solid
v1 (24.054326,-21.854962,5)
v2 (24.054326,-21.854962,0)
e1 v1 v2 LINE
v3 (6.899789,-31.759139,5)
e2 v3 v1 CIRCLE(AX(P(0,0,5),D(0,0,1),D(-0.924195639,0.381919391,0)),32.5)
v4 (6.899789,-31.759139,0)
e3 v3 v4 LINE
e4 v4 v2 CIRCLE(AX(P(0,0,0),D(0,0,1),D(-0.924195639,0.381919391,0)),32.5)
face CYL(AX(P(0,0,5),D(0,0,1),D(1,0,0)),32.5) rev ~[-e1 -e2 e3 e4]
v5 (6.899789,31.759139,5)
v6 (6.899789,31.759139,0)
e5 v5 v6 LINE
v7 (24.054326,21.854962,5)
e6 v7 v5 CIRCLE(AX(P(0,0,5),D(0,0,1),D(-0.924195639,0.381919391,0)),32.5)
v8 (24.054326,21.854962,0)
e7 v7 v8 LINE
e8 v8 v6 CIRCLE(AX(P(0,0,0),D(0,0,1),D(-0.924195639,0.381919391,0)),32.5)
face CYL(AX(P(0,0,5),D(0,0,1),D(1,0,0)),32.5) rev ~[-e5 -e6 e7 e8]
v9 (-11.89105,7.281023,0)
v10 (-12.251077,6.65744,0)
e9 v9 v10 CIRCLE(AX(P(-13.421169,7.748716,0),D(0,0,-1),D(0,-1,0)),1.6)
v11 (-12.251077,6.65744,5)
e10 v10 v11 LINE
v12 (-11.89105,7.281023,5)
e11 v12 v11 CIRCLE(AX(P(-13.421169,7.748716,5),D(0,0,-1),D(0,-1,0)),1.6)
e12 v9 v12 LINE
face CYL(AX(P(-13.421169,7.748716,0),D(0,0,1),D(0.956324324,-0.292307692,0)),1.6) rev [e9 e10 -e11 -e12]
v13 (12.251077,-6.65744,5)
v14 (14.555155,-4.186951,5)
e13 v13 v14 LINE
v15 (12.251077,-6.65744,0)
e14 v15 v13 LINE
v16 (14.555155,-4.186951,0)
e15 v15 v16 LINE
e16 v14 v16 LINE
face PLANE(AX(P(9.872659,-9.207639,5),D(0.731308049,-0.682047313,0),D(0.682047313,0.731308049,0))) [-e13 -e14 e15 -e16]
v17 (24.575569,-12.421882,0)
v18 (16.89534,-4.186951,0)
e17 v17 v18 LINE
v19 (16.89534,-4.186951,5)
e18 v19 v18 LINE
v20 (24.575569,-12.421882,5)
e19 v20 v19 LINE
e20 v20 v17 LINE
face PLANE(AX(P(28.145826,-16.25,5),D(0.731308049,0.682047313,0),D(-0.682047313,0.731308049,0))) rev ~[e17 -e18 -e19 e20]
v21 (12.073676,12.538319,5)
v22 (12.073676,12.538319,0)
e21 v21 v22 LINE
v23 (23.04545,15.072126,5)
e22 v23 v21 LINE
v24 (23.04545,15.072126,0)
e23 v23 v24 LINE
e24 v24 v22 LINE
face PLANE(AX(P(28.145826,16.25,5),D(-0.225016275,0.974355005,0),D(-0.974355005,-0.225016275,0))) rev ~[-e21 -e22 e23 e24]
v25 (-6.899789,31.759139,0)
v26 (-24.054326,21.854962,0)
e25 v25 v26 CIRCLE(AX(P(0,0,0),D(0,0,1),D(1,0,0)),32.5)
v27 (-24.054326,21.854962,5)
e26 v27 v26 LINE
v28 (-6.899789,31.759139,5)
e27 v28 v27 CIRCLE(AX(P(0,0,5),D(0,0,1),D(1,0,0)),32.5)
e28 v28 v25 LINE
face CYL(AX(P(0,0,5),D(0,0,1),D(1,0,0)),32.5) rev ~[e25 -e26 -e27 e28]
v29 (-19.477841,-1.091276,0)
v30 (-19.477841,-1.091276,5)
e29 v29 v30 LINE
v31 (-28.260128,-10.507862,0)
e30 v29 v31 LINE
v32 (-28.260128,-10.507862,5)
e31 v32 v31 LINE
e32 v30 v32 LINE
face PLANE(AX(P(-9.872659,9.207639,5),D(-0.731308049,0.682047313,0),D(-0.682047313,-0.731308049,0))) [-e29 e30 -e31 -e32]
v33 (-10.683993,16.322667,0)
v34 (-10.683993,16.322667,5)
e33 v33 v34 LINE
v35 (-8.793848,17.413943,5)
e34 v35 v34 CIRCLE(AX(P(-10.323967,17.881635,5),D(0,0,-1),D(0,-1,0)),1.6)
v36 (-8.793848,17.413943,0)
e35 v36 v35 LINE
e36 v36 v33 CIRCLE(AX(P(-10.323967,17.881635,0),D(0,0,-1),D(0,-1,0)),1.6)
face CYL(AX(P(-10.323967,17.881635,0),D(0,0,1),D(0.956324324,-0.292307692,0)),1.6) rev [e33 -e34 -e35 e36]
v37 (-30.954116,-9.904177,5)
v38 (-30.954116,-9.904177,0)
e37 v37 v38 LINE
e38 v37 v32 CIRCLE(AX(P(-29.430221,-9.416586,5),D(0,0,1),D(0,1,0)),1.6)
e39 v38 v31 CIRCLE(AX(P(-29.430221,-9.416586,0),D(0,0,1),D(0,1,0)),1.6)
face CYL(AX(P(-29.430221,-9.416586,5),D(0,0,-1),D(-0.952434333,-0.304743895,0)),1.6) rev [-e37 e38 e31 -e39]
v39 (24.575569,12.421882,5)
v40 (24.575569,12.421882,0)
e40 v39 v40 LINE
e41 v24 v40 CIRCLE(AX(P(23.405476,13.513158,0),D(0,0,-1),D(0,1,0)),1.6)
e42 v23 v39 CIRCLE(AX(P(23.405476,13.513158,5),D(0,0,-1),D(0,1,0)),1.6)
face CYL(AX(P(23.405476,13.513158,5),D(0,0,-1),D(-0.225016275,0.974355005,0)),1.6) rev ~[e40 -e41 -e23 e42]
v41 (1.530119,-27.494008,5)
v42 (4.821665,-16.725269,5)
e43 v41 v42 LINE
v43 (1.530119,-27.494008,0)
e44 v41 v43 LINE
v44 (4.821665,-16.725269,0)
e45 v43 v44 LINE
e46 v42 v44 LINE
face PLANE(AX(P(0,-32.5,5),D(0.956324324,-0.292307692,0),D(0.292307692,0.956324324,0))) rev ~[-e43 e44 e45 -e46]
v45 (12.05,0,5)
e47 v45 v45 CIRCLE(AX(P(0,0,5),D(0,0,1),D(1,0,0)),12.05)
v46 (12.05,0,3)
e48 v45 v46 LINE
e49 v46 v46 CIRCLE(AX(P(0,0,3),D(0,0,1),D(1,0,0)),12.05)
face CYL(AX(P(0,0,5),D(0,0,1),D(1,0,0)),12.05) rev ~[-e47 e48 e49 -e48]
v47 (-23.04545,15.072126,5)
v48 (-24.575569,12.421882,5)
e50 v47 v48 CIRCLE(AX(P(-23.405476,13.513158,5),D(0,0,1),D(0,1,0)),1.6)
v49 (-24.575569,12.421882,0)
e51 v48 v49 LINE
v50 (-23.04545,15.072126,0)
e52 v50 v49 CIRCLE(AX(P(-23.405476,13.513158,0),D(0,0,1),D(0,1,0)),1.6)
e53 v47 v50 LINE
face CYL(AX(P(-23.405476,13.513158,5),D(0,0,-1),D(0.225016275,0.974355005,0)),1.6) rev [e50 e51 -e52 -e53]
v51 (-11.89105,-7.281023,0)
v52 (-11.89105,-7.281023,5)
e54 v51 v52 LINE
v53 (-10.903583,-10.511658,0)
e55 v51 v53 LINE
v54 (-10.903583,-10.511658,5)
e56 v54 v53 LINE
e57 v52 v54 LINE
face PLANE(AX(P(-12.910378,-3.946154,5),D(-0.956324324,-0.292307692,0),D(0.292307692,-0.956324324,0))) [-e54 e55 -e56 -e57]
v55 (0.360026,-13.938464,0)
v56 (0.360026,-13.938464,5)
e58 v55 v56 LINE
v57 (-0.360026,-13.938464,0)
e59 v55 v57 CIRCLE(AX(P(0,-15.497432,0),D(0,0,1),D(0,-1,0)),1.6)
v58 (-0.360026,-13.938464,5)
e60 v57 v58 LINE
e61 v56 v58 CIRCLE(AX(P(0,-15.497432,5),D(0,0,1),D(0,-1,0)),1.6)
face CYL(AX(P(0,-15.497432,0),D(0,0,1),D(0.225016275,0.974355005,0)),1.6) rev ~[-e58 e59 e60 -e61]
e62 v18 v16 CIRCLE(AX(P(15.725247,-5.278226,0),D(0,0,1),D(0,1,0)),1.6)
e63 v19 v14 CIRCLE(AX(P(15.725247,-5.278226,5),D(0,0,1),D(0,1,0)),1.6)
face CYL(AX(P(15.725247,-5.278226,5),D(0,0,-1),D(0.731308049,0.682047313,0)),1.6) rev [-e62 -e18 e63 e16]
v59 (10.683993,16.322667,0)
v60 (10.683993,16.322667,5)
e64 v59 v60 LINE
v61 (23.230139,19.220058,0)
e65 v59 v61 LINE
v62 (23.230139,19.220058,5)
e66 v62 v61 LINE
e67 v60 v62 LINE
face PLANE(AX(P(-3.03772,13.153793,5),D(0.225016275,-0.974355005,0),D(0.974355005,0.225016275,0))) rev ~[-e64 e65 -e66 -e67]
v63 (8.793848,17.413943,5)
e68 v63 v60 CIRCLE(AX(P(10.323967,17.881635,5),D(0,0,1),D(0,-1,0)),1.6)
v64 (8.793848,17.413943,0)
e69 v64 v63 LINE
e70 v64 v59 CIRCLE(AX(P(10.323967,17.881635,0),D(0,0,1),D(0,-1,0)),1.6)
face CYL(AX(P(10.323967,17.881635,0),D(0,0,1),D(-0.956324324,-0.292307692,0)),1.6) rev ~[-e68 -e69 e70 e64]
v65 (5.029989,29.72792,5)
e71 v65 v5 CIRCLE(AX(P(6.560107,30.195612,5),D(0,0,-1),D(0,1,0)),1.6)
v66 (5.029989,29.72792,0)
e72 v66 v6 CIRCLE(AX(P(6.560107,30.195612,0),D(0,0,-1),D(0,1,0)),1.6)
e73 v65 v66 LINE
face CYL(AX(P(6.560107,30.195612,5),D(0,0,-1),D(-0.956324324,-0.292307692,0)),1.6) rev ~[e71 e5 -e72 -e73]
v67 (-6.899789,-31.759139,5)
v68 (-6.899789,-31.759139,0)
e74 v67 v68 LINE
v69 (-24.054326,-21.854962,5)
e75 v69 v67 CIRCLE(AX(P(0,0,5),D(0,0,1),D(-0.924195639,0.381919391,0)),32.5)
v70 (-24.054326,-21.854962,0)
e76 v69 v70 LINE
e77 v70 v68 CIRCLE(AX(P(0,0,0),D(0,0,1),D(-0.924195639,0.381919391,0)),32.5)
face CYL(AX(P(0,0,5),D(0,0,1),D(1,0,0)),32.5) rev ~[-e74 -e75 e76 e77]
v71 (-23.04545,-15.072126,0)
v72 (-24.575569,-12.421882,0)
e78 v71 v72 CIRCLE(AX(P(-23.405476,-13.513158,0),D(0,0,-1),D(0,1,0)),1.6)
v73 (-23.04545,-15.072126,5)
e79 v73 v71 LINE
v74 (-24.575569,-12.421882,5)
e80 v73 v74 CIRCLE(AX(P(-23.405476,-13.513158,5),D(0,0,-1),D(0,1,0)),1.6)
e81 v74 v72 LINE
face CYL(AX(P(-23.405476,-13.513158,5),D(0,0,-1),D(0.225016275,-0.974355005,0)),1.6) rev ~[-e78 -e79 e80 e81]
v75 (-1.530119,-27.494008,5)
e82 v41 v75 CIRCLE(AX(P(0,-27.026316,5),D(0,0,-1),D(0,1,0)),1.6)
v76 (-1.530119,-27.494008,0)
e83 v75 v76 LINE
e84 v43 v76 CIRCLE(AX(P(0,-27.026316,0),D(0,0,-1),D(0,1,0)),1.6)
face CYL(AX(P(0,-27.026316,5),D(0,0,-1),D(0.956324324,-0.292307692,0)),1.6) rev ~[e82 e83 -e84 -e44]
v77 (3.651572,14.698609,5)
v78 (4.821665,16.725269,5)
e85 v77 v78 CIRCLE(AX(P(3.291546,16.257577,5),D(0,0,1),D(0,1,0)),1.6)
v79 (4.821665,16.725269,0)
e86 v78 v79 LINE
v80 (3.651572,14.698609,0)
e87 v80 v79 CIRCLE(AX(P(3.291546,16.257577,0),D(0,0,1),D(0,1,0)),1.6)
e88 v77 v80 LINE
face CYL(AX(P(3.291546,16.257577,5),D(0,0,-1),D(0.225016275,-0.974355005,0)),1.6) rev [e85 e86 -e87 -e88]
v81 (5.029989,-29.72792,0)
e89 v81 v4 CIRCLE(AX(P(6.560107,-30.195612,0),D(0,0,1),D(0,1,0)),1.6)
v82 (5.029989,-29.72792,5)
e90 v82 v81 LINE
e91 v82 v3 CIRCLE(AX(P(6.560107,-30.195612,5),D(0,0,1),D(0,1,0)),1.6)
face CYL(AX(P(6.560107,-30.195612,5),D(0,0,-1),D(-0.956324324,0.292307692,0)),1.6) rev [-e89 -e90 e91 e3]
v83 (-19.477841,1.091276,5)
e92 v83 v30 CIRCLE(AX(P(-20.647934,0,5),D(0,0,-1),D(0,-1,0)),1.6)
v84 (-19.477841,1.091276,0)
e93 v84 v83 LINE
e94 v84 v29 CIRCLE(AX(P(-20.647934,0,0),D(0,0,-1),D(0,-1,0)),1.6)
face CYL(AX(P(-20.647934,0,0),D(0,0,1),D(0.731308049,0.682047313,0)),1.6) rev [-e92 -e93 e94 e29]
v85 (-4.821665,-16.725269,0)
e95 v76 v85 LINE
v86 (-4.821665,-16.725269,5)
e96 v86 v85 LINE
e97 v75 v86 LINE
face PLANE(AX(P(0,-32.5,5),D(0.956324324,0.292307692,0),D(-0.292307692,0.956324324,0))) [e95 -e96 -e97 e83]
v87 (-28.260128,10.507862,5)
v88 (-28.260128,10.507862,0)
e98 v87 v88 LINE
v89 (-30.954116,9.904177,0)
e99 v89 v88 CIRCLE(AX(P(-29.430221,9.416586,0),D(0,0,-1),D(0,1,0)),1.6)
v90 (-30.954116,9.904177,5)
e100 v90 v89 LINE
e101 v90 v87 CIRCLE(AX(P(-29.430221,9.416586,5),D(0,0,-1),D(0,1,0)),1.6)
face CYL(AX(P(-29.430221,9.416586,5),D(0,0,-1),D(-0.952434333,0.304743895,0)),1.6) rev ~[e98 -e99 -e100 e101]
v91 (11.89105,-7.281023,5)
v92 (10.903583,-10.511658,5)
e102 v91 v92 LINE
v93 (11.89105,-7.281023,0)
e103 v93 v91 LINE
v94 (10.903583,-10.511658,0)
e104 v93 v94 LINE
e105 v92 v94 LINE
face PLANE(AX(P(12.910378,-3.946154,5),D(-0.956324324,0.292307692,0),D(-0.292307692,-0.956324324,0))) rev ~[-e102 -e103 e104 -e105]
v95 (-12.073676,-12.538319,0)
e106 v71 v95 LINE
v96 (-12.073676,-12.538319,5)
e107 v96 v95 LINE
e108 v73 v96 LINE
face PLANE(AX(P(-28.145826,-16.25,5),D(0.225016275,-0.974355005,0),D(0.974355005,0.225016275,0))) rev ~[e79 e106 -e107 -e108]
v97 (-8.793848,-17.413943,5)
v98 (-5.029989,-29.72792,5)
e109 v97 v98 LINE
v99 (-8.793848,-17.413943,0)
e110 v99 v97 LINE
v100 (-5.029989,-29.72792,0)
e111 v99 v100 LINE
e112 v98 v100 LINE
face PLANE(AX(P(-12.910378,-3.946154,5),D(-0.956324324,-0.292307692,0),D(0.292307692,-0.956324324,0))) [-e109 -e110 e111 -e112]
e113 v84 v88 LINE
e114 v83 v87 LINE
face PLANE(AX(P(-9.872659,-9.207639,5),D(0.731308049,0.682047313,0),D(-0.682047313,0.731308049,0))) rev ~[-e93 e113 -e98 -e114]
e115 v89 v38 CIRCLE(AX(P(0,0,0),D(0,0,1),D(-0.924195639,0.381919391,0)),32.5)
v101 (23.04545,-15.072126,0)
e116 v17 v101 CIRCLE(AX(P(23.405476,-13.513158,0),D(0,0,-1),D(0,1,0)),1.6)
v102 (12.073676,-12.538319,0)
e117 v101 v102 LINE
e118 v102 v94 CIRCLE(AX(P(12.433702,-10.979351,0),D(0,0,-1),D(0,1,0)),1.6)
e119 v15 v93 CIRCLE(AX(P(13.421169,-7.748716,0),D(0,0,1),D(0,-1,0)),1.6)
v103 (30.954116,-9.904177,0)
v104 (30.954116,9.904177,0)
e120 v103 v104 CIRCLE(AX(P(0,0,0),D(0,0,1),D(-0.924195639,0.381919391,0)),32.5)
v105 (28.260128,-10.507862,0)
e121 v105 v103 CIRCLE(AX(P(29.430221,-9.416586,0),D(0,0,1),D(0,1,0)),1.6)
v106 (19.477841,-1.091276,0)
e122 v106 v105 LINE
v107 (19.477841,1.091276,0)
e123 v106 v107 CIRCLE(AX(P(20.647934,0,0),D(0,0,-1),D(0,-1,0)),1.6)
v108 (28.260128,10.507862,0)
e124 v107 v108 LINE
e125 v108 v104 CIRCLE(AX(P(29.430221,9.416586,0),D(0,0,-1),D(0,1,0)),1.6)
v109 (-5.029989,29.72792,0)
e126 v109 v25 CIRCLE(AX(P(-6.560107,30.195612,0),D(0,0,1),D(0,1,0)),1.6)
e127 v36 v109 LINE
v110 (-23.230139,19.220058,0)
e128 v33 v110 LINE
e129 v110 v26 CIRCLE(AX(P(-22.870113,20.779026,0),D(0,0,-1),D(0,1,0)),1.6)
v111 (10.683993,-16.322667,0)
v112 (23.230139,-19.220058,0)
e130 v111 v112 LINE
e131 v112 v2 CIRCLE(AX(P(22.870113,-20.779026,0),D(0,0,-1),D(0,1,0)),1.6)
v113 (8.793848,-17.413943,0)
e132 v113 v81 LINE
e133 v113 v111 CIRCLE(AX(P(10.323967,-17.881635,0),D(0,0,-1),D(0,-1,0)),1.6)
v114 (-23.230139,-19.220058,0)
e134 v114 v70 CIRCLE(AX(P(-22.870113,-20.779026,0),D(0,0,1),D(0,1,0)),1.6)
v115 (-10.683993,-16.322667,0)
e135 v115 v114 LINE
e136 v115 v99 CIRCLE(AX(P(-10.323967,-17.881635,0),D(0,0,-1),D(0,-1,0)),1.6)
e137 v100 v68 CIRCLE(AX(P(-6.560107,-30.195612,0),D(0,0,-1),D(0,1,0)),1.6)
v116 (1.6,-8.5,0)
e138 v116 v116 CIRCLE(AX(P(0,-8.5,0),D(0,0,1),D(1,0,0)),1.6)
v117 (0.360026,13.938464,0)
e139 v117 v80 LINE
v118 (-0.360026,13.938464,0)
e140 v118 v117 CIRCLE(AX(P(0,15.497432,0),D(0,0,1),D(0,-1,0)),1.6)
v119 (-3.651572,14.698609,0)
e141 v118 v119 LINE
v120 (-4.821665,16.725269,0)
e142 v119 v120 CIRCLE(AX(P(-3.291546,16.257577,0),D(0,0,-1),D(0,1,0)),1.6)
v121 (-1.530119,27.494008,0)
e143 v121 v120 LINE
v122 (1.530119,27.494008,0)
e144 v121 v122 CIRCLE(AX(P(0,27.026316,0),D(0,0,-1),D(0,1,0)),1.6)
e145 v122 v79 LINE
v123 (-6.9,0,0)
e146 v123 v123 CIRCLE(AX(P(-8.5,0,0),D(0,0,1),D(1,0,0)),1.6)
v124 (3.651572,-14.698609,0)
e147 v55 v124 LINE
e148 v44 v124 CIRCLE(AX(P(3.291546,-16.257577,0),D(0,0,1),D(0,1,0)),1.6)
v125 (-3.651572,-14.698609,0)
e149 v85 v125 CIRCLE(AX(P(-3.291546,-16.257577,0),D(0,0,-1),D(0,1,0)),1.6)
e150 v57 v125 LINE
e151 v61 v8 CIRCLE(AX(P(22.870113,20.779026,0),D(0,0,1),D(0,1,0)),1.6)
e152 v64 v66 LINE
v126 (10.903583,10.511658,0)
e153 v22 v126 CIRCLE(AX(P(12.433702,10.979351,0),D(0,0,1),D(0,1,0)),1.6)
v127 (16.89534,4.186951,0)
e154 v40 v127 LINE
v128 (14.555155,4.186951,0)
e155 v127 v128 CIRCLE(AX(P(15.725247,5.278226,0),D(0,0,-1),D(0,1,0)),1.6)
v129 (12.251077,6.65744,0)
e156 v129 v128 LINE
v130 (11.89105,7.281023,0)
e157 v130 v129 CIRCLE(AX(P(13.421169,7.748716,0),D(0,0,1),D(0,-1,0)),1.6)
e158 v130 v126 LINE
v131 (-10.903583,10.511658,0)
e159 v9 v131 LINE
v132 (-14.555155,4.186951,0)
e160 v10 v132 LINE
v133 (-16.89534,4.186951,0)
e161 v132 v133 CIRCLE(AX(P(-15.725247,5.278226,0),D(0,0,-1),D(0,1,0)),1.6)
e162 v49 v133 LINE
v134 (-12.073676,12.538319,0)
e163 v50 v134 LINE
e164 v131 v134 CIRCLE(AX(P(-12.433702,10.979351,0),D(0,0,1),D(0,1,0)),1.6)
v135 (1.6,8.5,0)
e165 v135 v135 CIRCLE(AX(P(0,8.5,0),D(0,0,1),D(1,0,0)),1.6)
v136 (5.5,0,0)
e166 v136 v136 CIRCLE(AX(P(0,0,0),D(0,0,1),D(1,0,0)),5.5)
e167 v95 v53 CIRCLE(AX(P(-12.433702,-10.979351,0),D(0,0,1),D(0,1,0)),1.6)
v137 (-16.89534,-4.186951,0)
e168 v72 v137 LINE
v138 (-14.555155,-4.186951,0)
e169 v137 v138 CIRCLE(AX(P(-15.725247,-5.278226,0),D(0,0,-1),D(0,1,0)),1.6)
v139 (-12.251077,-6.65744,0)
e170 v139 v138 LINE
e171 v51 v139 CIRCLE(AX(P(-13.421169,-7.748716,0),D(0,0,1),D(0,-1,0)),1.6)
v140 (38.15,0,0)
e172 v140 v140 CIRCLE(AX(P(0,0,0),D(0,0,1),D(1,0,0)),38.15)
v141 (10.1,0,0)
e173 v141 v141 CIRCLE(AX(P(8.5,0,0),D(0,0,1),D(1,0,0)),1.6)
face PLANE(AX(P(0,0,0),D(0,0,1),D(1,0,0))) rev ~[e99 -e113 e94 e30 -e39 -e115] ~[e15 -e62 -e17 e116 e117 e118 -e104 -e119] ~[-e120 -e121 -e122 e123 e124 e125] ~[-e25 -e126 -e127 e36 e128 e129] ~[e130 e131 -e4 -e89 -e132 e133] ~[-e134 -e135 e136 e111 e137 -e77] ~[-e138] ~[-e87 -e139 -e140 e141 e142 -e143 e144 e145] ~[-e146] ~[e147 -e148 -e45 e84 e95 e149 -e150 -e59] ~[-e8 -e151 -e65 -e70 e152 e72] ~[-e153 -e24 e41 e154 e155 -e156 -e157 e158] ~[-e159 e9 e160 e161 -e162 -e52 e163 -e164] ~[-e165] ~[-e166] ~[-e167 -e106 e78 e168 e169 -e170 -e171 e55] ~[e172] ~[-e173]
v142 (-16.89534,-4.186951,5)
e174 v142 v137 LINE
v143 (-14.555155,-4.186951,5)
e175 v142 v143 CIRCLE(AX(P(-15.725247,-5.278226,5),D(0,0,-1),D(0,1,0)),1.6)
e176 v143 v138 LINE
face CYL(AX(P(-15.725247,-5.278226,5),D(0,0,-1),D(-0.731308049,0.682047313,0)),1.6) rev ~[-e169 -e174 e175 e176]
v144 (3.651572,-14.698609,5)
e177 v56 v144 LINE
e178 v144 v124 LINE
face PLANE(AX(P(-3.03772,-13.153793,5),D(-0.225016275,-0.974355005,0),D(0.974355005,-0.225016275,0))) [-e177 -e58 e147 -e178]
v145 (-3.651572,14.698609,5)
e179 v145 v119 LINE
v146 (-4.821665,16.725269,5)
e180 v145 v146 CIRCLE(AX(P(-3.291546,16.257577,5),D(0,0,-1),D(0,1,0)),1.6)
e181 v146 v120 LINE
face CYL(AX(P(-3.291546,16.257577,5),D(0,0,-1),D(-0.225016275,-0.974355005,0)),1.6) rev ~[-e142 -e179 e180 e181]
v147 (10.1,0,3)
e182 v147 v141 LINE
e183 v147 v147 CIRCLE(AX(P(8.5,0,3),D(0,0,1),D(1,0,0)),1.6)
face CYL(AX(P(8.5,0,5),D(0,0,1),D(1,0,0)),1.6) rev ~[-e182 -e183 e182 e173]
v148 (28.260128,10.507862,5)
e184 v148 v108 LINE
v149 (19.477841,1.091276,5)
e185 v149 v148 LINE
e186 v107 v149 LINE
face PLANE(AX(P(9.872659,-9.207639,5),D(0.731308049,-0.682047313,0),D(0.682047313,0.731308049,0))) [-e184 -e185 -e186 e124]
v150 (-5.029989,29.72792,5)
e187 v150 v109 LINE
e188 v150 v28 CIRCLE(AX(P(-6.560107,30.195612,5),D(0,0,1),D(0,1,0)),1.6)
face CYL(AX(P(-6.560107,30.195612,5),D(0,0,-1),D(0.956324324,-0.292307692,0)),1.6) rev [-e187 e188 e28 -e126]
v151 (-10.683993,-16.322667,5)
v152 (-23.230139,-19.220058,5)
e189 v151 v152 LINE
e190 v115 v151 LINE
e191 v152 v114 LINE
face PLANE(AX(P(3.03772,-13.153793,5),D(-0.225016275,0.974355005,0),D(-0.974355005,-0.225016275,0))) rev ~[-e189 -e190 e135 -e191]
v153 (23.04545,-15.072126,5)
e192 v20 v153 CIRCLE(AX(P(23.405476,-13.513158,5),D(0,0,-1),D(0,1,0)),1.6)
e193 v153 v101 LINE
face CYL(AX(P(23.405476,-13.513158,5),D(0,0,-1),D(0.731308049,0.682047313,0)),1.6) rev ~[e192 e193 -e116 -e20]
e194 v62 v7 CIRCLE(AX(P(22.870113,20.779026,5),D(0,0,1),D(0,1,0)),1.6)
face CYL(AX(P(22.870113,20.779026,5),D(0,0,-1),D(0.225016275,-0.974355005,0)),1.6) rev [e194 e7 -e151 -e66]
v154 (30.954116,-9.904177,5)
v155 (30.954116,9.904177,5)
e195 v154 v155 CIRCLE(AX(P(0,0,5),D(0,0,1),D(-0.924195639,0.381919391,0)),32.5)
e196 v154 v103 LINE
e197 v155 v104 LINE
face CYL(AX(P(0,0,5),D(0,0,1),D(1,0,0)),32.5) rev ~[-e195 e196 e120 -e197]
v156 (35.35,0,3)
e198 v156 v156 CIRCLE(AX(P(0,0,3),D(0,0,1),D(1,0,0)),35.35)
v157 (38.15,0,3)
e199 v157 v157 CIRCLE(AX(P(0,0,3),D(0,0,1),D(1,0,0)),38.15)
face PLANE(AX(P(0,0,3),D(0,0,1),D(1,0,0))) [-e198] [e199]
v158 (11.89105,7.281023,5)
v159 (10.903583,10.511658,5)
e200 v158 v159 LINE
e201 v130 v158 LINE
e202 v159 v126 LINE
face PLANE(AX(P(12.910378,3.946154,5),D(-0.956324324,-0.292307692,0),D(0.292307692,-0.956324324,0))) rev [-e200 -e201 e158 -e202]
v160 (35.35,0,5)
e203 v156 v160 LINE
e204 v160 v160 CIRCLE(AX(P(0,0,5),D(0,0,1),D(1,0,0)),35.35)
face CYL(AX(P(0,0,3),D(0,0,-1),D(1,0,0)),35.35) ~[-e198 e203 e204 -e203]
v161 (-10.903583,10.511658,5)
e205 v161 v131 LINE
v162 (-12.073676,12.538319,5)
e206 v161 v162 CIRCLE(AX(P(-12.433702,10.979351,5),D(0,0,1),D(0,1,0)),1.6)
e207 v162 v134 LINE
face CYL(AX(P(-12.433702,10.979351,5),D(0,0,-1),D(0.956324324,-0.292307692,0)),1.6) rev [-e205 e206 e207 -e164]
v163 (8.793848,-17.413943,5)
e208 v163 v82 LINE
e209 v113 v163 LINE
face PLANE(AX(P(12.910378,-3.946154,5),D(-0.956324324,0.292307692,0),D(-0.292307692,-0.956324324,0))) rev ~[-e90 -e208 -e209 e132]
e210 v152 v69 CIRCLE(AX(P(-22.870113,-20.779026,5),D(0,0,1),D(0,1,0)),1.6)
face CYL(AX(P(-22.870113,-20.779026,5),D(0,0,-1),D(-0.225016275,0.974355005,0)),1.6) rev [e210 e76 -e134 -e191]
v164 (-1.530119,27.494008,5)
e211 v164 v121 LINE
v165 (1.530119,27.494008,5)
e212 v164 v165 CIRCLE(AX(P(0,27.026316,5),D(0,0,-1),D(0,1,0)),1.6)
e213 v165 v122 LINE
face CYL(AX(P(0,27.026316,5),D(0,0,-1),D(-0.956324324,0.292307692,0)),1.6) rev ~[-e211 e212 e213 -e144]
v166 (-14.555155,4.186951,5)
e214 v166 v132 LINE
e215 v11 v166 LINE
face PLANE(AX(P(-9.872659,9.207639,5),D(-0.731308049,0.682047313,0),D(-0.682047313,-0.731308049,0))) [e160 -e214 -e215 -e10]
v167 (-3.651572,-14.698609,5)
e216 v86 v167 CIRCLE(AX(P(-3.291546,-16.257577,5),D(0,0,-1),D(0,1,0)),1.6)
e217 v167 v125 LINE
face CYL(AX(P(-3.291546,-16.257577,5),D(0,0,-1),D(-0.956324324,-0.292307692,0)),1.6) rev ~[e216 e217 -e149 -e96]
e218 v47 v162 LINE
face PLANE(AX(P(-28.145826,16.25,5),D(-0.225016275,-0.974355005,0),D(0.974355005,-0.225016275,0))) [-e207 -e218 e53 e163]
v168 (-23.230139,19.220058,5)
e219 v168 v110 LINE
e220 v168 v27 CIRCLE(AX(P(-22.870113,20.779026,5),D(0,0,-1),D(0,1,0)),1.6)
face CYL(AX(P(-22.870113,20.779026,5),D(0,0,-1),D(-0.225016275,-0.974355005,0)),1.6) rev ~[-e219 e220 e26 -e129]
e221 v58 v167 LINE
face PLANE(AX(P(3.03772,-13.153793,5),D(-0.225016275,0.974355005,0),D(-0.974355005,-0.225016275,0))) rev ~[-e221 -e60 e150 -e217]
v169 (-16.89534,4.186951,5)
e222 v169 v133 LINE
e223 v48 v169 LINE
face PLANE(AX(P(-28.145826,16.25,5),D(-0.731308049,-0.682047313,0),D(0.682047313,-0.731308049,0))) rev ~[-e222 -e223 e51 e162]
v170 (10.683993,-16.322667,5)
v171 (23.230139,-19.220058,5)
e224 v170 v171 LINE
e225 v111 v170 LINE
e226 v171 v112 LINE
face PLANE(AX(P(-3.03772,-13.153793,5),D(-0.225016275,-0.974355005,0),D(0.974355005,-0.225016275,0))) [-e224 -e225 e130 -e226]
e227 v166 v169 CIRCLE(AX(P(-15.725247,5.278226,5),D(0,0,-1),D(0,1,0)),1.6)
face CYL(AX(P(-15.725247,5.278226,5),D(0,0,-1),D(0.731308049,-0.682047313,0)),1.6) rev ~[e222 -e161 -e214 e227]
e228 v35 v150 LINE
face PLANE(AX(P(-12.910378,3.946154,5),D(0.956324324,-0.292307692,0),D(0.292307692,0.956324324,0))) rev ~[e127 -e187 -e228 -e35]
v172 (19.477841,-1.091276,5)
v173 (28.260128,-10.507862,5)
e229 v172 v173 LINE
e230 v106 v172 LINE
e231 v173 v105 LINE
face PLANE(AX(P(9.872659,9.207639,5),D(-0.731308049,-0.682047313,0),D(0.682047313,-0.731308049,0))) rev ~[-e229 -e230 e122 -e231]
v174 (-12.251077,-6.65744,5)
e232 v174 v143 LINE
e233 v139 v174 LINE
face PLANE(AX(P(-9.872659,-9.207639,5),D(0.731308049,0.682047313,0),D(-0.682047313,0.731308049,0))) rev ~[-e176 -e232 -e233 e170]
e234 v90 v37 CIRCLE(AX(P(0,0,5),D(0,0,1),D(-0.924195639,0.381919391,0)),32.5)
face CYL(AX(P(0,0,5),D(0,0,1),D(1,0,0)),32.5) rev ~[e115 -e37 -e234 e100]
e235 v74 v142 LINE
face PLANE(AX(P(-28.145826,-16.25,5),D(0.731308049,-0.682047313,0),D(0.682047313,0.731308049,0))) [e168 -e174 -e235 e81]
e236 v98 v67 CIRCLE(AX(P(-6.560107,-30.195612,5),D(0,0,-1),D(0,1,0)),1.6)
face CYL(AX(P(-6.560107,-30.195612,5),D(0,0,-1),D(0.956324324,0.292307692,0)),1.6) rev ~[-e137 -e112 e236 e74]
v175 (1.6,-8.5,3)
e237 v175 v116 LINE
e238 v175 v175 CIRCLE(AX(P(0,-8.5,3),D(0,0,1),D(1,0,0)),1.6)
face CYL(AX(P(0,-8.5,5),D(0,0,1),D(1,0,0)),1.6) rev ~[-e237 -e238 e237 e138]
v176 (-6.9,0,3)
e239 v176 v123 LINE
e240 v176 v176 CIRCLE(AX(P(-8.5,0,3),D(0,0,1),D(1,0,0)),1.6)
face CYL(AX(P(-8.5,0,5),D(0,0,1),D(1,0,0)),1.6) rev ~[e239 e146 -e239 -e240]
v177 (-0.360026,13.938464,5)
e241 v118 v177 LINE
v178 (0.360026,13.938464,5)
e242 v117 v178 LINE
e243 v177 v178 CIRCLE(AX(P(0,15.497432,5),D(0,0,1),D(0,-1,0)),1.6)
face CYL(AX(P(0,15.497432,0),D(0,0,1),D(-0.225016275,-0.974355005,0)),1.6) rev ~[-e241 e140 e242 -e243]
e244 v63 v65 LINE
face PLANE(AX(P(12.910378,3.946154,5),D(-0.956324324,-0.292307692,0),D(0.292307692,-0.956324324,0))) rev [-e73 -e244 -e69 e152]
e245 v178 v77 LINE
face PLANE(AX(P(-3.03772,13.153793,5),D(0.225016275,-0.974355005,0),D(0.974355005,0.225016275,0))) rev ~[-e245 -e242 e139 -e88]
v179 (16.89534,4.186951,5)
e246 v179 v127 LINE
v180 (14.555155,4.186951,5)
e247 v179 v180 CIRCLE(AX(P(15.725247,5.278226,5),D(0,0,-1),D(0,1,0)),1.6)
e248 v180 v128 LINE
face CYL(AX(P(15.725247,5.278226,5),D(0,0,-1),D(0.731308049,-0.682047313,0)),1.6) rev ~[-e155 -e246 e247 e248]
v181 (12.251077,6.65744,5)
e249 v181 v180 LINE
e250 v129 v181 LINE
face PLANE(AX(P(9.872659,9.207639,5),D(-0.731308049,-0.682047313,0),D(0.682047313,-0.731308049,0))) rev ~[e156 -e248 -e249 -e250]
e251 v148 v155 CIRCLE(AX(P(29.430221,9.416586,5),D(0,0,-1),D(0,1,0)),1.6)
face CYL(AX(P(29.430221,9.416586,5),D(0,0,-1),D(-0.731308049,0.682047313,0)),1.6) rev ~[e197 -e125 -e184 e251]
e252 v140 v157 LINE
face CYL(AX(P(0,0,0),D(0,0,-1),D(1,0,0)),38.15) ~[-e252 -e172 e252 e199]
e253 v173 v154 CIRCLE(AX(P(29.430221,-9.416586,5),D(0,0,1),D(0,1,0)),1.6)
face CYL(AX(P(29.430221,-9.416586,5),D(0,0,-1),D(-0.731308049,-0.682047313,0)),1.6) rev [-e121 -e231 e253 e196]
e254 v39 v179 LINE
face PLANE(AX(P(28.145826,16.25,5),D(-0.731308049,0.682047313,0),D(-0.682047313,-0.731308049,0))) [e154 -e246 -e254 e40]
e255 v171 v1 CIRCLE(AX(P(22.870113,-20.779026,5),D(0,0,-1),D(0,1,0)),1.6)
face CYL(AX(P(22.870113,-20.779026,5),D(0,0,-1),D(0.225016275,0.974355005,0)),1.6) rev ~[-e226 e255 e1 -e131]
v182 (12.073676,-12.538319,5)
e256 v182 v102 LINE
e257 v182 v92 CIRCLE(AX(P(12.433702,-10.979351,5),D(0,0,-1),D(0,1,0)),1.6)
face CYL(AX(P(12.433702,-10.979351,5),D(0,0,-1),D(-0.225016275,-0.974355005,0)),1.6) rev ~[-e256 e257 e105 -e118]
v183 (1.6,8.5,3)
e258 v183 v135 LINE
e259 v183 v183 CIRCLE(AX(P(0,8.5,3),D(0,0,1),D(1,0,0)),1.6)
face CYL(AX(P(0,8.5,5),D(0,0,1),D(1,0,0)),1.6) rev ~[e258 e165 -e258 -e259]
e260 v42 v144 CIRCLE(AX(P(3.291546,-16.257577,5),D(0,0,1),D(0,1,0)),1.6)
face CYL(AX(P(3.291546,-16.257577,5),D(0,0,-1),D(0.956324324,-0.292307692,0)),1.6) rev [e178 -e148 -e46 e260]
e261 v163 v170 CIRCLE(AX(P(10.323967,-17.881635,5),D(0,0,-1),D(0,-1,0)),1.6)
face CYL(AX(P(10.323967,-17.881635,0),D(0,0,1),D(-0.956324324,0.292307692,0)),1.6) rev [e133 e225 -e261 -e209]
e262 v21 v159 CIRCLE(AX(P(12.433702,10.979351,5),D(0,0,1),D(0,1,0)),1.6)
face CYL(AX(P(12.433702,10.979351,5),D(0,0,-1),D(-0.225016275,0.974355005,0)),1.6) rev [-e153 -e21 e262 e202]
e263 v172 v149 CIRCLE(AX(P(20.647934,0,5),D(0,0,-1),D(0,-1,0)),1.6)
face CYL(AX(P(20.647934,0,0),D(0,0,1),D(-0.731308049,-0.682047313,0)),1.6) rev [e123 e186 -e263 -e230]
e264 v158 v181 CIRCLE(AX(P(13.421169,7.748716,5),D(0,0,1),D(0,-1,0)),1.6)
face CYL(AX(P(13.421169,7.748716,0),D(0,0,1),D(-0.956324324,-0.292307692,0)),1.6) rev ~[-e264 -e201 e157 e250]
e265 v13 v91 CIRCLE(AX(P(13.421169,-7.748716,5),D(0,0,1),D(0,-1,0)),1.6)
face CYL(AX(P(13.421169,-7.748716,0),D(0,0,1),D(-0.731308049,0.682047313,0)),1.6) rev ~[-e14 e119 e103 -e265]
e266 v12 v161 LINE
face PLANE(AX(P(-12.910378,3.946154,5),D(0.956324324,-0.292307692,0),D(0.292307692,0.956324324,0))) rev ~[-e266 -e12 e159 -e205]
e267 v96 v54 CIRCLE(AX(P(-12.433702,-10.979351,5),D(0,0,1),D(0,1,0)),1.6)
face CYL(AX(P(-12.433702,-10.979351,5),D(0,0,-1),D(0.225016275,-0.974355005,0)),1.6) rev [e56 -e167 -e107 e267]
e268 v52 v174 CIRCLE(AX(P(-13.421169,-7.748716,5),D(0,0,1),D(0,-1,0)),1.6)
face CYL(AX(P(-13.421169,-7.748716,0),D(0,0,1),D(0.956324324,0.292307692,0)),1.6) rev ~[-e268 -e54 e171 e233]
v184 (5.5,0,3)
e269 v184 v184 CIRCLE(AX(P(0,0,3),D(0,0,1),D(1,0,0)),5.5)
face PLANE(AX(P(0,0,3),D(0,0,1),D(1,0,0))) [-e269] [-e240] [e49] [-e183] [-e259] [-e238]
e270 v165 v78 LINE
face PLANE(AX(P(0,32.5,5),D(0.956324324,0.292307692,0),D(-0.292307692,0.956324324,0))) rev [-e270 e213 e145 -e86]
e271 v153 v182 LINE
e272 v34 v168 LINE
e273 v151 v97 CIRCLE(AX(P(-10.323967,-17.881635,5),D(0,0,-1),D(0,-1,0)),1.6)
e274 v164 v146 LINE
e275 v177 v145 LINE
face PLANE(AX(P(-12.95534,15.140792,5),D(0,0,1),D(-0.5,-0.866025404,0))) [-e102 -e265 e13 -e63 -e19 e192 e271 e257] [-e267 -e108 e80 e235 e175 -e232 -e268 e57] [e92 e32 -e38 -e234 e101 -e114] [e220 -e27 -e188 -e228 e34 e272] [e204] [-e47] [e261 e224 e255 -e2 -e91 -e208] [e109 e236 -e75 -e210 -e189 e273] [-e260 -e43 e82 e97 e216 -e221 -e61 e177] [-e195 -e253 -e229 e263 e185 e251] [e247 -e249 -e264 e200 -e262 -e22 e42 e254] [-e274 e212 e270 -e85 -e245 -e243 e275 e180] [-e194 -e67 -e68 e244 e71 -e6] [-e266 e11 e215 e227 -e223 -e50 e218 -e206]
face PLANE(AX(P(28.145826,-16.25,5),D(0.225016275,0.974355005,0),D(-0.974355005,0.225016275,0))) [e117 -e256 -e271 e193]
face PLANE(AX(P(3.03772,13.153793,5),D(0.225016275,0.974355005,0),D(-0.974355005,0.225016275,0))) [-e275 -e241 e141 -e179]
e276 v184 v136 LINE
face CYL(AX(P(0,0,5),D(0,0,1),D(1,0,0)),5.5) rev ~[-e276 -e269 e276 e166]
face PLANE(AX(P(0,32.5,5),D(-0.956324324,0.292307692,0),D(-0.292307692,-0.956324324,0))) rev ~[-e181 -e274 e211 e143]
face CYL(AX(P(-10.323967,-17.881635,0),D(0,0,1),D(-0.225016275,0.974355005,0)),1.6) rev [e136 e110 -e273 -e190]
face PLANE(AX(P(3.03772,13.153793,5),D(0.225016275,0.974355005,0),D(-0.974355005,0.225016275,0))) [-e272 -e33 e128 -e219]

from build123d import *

# Parameters (mm, degrees)
SKETCH_1_R               = 38.15
EXTRUDE_1_DEPTH          = 3
SKETCH_2_R               = 35.35
EXTRUDE_2_DEPTH          = 2
SKETCH_6_R               = 5.5
CUT_EXTRUDE_2_DEPTH      = 6
SKETCH_7_R               = 32.5
SKETCH_7_R_2             = 13.5
CUT_EXTRUDE_3_DEPTH      = 1
CUT_EXTRUDE_3_DEPTH_BACK = 6
EXTRUDE_4_DEPTH          = 5
PATTERN_CIRCULAR_3_COUNT = 6
MIRROR_1_COPY_1_DEPTH    = 5
MIRROR_1_COPY_2_DEPTH    = 5
MIRROR_1_COPY_3_DEPTH    = 5
MIRROR_1_COPY_4_DEPTH    = 5
MIRROR_1_COPY_5_DEPTH    = 5
SKETCH_9_R               = 1.6
CUT_EXTRUDE_4_DEPTH      = 6
FILLET_3_R               = 1.6
FILLET_4_R               = 1.6
SKETCH_11_R              = 12.05
CUT_EXTRUDE_6_DEPTH      = 2


with BuildPart() as part:
    # ｽｹｯﾁ1 → ﾎﾞｽ - 押し出し1 (new body)
    with BuildSketch(Plane.XY):
        Circle(SKETCH_1_R)
    extrude(amount=EXTRUDE_1_DEPTH)

    # ｽｹｯﾁ2 → ﾎﾞｽ - 押し出し2 (add)
    with BuildSketch(Plane.XY.offset(3)):
        Circle(SKETCH_2_R)
    extrude(amount=EXTRUDE_2_DEPTH)

    # ｽｹｯﾁ6 → ｶｯﾄ - 押し出し2 (cut, through all)
    with BuildSketch(Plane.XY.offset(5)):
        Circle(SKETCH_6_R)
    extrude(amount=-CUT_EXTRUDE_2_DEPTH, mode=Mode.SUBTRACT)

    # ｽｹｯﾁ7 → ｶｯﾄ - 押し出し3 (cut, two sides)
    with BuildSketch(Plane.XY.offset(5)) as cut_extrude_3_sk:
        Circle(SKETCH_7_R)
        Circle(SKETCH_7_R_2, mode=Mode.SUBTRACT)
    extrude(amount=CUT_EXTRUDE_3_DEPTH, mode=Mode.SUBTRACT)
    extrude(cut_extrude_3_sk.sketch, amount=-CUT_EXTRUDE_3_DEPTH_BACK, mode=Mode.SUBTRACT)

    # ｽｹｯﾁ8 → ﾎﾞｽ - 押し出し4 (add)
    with BuildSketch(Plane.XY.offset(5)):
        with BuildLine():
            Line((-12.910378376, 3.946153846), (-4.268742546, 32.218439395))
            ThreePointArc((-4.268742546, 32.218439395), (-2.139009075, 32.429533456), (0, 32.5))
            Line((0, 32.5), (-6.281364189, 11.949663758))
            ThreePointArc((-6.281364189, 11.949663758), (-10.396864354, 8.611342032), (-12.910378376, 3.946153846))
        make_face()
    extrude_4 = extrude(amount=-EXTRUDE_4_DEPTH)

    # 円形ﾊﾟﾀｰﾝ3: ﾎﾞｽ - 押し出し4 ×6 about axis
    pattern_circular_3_axis = Axis((0, 0, 0), (0, 0, 1))
    for i in range(1, PATTERN_CIRCULAR_3_COUNT):
        add(extrude_4.rotate(pattern_circular_3_axis, i * 360 / PATTERN_CIRCULAR_3_COUNT))

    # ﾐﾗｰ1: ﾎﾞｽ - 押し出し4 across plane
    add(extrude_4.mirror(Plane(origin=(0, 0, 0), x_dir=(0, 0, 1), z_dir=(1, 0, 0))))

    # ﾐﾗｰ1 copy 1 sketch → ﾐﾗｰ1 copy 1 (add)
    with BuildSketch(Plane(origin=(0, 0, 5), x_dir=(-0.5, 0.866025404, 0), z_dir=(0, 0, 1))):
        with BuildLine():
            Line((-12.910378376, -3.946153846), (-4.268742546, -32.218439395))
            ThreePointArc((-4.268742546, -32.218439395), (-2.139009075, -32.429533456), (0, -32.5))
            Line((0, -32.5), (-6.281364189, -11.949663758))
            ThreePointArc((-6.281364189, -11.949663758), (-10.396864354, -8.611342032), (-12.910378376, -3.946153846))
        make_face()
    extrude(amount=-MIRROR_1_COPY_1_DEPTH)

    # ﾐﾗｰ1 copy 2 sketch → ﾐﾗｰ1 copy 2 (add)
    with BuildSketch(Plane(origin=(0, 0, 5), x_dir=(0.5, 0.866025404, 0), z_dir=(0, 0, 1))):
        with BuildLine():
            Line((-12.910378376, -3.946153846), (-4.268742546, -32.218439395))
            ThreePointArc((-4.268742546, -32.218439395), (-2.139009075, -32.429533456), (0, -32.5))
            Line((0, -32.5), (-6.281364189, -11.949663758))
            ThreePointArc((-6.281364189, -11.949663758), (-10.396864354, -8.611342032), (-12.910378376, -3.946153846))
        make_face()
    extrude(amount=-MIRROR_1_COPY_2_DEPTH)

    # ﾐﾗｰ1 copy 3 sketch → ﾐﾗｰ1 copy 3 (add)
    with BuildSketch(Plane.XY.offset(5)):
        with BuildLine():
            Line((-12.910378376, -3.946153846), (-4.268742546, -32.218439395))
            ThreePointArc((-4.268742546, -32.218439395), (-2.139009075, -32.429533456), (0, -32.5))
            Line((0, -32.5), (-6.281364189, -11.949663758))
            ThreePointArc((-6.281364189, -11.949663758), (-10.396864354, -8.611342032), (-12.910378376, -3.946153846))
        make_face()
    extrude(amount=-MIRROR_1_COPY_3_DEPTH)

    # ﾐﾗｰ1 copy 4 sketch → ﾐﾗｰ1 copy 4 (add)
    with BuildSketch(Plane(origin=(0, 0, 5), x_dir=(0.5, -0.866025404, 0), z_dir=(0, 0, 1))):
        with BuildLine():
            Line((-12.910378376, -3.946153846), (-4.268742546, -32.218439395))
            ThreePointArc((-4.268742546, -32.218439395), (-2.139009075, -32.429533456), (0, -32.5))
            Line((0, -32.5), (-6.281364189, -11.949663758))
            ThreePointArc((-6.281364189, -11.949663758), (-10.396864354, -8.611342032), (-12.910378376, -3.946153846))
        make_face()
    extrude(amount=-MIRROR_1_COPY_4_DEPTH)

    # ﾐﾗｰ1 copy 5 sketch → ﾐﾗｰ1 copy 5 (add)
    with BuildSketch(Plane(origin=(0, 0, 5), x_dir=(-0.5, -0.866025404, 0), z_dir=(0, 0, 1))):
        with BuildLine():
            Line((-12.910378376, -3.946153846), (-4.268742546, -32.218439395))
            ThreePointArc((-4.268742546, -32.218439395), (-2.139009075, -32.429533456), (0, -32.5))
            Line((0, -32.5), (-6.281364189, -11.949663758))
            ThreePointArc((-6.281364189, -11.949663758), (-10.396864354, -8.611342032), (-12.910378376, -3.946153846))
        make_face()
    extrude(amount=-MIRROR_1_COPY_5_DEPTH)

    # ｽｹｯﾁ9 → ｶｯﾄ - 押し出し4 (cut, through all)
    with BuildSketch(Plane.XY.offset(5)):
        with Locations((-8.5, 0)):
            Circle(SKETCH_9_R)
        with Locations((0, 8.5)):
            Circle(SKETCH_9_R)
        with Locations((8.5, 0)):
            Circle(SKETCH_9_R)
        with Locations((0, -8.5)):
            Circle(SKETCH_9_R)
    extrude(amount=-CUT_EXTRUDE_4_DEPTH, mode=Mode.SUBTRACT)

    # ﾌｨﾚｯﾄ3
    fillet_3_edges = [part.edges().sort_by_distance(p)[0] for p in [
        (11.999058751, 6.9276598, 2.5),
        (9.230036516, 15.986892202, 2.5),
        (4.268742546, 32.218439395, 2.5),
        (15.725247398, -2.932347892, 2.5),
        (15.725247398, 2.932347892, 2.5),
        (18.460073032, 0, 2.5),
        (11.999058751, -6.9276598, 2.5),
        (30.03635826, 12.41238021, 2.5),
        (10.402111466, -12.152289781, 2.5),
        (9.230036516, -15.986892202, 2.5),
        (25.767615714, -19.806059185, 2.5),
        (-5.323135932, 15.084637673, 2.5),
        (-9.230036516, 15.986892202, 2.5),
        (0, 13.8553196, 2.5),
        (-25.767615714, 19.806059185, 2.5),
        (4.268742546, -32.218439395, 2.5),
        (30.03635826, -12.41238021, 2.5),
        (28.145825623, -16.25, 2.5),
        (25.767615714, 19.806059185, 2.5),
        (28.145825623, 16.25, 2.5),
        (-4.268742546, 32.218439395, 2.5),
        (0, 32.5, 2.5),
        (10.402111466, 12.152289781, 2.5),
        (5.323135932, 15.084637673, 2.5),
    ]]
    fillet(fillet_3_edges, radius=FILLET_3_R)

    # ﾌｨﾚｯﾄ4
    fillet_4_edges = [part.edges().sort_by_distance(p)[0] for p in [
        (5.323135932, -15.084637673, 2.5),
        (0, -13.8553196, 2.5),
        (-10.402111466, -12.152289781, 2.5),
        (-5.323135932, -15.084637673, 2.5),
        (-9.230036516, -15.986892202, 2.5),
        (-11.999058751, -6.9276598, 2.5),
        (-4.268742546, -32.218439395, 2.5),
        (-15.725247398, 2.932347892, 2.5),
        (-15.725247398, -2.932347892, 2.5),
        (-18.460073032, 0, 2.5),
        (-11.999058751, 6.9276598, 2.5),
        (-30.03635826, -12.41238021, 2.5),
        (-30.03635826, 12.41238021, 2.5),
        (-28.145825623, 16.25, 2.5),
        (-10.402111466, 12.152289781, 2.5),
        (-25.767615714, -19.806059185, 2.5),
        (-28.145825623, -16.25, 2.5),
        (0, -32.5, 2.5),
    ]]
    fillet(fillet_4_edges, radius=FILLET_4_R)

    # ｽｹｯﾁ11 → ｶｯﾄ - 押し出し6 (cut)
    with BuildSketch(Plane.XY.offset(5)):
        Circle(SKETCH_11_R)
    extrude(amount=-CUT_EXTRUDE_6_DEPTH, mode=Mode.SUBTRACT)


solid = part.part
